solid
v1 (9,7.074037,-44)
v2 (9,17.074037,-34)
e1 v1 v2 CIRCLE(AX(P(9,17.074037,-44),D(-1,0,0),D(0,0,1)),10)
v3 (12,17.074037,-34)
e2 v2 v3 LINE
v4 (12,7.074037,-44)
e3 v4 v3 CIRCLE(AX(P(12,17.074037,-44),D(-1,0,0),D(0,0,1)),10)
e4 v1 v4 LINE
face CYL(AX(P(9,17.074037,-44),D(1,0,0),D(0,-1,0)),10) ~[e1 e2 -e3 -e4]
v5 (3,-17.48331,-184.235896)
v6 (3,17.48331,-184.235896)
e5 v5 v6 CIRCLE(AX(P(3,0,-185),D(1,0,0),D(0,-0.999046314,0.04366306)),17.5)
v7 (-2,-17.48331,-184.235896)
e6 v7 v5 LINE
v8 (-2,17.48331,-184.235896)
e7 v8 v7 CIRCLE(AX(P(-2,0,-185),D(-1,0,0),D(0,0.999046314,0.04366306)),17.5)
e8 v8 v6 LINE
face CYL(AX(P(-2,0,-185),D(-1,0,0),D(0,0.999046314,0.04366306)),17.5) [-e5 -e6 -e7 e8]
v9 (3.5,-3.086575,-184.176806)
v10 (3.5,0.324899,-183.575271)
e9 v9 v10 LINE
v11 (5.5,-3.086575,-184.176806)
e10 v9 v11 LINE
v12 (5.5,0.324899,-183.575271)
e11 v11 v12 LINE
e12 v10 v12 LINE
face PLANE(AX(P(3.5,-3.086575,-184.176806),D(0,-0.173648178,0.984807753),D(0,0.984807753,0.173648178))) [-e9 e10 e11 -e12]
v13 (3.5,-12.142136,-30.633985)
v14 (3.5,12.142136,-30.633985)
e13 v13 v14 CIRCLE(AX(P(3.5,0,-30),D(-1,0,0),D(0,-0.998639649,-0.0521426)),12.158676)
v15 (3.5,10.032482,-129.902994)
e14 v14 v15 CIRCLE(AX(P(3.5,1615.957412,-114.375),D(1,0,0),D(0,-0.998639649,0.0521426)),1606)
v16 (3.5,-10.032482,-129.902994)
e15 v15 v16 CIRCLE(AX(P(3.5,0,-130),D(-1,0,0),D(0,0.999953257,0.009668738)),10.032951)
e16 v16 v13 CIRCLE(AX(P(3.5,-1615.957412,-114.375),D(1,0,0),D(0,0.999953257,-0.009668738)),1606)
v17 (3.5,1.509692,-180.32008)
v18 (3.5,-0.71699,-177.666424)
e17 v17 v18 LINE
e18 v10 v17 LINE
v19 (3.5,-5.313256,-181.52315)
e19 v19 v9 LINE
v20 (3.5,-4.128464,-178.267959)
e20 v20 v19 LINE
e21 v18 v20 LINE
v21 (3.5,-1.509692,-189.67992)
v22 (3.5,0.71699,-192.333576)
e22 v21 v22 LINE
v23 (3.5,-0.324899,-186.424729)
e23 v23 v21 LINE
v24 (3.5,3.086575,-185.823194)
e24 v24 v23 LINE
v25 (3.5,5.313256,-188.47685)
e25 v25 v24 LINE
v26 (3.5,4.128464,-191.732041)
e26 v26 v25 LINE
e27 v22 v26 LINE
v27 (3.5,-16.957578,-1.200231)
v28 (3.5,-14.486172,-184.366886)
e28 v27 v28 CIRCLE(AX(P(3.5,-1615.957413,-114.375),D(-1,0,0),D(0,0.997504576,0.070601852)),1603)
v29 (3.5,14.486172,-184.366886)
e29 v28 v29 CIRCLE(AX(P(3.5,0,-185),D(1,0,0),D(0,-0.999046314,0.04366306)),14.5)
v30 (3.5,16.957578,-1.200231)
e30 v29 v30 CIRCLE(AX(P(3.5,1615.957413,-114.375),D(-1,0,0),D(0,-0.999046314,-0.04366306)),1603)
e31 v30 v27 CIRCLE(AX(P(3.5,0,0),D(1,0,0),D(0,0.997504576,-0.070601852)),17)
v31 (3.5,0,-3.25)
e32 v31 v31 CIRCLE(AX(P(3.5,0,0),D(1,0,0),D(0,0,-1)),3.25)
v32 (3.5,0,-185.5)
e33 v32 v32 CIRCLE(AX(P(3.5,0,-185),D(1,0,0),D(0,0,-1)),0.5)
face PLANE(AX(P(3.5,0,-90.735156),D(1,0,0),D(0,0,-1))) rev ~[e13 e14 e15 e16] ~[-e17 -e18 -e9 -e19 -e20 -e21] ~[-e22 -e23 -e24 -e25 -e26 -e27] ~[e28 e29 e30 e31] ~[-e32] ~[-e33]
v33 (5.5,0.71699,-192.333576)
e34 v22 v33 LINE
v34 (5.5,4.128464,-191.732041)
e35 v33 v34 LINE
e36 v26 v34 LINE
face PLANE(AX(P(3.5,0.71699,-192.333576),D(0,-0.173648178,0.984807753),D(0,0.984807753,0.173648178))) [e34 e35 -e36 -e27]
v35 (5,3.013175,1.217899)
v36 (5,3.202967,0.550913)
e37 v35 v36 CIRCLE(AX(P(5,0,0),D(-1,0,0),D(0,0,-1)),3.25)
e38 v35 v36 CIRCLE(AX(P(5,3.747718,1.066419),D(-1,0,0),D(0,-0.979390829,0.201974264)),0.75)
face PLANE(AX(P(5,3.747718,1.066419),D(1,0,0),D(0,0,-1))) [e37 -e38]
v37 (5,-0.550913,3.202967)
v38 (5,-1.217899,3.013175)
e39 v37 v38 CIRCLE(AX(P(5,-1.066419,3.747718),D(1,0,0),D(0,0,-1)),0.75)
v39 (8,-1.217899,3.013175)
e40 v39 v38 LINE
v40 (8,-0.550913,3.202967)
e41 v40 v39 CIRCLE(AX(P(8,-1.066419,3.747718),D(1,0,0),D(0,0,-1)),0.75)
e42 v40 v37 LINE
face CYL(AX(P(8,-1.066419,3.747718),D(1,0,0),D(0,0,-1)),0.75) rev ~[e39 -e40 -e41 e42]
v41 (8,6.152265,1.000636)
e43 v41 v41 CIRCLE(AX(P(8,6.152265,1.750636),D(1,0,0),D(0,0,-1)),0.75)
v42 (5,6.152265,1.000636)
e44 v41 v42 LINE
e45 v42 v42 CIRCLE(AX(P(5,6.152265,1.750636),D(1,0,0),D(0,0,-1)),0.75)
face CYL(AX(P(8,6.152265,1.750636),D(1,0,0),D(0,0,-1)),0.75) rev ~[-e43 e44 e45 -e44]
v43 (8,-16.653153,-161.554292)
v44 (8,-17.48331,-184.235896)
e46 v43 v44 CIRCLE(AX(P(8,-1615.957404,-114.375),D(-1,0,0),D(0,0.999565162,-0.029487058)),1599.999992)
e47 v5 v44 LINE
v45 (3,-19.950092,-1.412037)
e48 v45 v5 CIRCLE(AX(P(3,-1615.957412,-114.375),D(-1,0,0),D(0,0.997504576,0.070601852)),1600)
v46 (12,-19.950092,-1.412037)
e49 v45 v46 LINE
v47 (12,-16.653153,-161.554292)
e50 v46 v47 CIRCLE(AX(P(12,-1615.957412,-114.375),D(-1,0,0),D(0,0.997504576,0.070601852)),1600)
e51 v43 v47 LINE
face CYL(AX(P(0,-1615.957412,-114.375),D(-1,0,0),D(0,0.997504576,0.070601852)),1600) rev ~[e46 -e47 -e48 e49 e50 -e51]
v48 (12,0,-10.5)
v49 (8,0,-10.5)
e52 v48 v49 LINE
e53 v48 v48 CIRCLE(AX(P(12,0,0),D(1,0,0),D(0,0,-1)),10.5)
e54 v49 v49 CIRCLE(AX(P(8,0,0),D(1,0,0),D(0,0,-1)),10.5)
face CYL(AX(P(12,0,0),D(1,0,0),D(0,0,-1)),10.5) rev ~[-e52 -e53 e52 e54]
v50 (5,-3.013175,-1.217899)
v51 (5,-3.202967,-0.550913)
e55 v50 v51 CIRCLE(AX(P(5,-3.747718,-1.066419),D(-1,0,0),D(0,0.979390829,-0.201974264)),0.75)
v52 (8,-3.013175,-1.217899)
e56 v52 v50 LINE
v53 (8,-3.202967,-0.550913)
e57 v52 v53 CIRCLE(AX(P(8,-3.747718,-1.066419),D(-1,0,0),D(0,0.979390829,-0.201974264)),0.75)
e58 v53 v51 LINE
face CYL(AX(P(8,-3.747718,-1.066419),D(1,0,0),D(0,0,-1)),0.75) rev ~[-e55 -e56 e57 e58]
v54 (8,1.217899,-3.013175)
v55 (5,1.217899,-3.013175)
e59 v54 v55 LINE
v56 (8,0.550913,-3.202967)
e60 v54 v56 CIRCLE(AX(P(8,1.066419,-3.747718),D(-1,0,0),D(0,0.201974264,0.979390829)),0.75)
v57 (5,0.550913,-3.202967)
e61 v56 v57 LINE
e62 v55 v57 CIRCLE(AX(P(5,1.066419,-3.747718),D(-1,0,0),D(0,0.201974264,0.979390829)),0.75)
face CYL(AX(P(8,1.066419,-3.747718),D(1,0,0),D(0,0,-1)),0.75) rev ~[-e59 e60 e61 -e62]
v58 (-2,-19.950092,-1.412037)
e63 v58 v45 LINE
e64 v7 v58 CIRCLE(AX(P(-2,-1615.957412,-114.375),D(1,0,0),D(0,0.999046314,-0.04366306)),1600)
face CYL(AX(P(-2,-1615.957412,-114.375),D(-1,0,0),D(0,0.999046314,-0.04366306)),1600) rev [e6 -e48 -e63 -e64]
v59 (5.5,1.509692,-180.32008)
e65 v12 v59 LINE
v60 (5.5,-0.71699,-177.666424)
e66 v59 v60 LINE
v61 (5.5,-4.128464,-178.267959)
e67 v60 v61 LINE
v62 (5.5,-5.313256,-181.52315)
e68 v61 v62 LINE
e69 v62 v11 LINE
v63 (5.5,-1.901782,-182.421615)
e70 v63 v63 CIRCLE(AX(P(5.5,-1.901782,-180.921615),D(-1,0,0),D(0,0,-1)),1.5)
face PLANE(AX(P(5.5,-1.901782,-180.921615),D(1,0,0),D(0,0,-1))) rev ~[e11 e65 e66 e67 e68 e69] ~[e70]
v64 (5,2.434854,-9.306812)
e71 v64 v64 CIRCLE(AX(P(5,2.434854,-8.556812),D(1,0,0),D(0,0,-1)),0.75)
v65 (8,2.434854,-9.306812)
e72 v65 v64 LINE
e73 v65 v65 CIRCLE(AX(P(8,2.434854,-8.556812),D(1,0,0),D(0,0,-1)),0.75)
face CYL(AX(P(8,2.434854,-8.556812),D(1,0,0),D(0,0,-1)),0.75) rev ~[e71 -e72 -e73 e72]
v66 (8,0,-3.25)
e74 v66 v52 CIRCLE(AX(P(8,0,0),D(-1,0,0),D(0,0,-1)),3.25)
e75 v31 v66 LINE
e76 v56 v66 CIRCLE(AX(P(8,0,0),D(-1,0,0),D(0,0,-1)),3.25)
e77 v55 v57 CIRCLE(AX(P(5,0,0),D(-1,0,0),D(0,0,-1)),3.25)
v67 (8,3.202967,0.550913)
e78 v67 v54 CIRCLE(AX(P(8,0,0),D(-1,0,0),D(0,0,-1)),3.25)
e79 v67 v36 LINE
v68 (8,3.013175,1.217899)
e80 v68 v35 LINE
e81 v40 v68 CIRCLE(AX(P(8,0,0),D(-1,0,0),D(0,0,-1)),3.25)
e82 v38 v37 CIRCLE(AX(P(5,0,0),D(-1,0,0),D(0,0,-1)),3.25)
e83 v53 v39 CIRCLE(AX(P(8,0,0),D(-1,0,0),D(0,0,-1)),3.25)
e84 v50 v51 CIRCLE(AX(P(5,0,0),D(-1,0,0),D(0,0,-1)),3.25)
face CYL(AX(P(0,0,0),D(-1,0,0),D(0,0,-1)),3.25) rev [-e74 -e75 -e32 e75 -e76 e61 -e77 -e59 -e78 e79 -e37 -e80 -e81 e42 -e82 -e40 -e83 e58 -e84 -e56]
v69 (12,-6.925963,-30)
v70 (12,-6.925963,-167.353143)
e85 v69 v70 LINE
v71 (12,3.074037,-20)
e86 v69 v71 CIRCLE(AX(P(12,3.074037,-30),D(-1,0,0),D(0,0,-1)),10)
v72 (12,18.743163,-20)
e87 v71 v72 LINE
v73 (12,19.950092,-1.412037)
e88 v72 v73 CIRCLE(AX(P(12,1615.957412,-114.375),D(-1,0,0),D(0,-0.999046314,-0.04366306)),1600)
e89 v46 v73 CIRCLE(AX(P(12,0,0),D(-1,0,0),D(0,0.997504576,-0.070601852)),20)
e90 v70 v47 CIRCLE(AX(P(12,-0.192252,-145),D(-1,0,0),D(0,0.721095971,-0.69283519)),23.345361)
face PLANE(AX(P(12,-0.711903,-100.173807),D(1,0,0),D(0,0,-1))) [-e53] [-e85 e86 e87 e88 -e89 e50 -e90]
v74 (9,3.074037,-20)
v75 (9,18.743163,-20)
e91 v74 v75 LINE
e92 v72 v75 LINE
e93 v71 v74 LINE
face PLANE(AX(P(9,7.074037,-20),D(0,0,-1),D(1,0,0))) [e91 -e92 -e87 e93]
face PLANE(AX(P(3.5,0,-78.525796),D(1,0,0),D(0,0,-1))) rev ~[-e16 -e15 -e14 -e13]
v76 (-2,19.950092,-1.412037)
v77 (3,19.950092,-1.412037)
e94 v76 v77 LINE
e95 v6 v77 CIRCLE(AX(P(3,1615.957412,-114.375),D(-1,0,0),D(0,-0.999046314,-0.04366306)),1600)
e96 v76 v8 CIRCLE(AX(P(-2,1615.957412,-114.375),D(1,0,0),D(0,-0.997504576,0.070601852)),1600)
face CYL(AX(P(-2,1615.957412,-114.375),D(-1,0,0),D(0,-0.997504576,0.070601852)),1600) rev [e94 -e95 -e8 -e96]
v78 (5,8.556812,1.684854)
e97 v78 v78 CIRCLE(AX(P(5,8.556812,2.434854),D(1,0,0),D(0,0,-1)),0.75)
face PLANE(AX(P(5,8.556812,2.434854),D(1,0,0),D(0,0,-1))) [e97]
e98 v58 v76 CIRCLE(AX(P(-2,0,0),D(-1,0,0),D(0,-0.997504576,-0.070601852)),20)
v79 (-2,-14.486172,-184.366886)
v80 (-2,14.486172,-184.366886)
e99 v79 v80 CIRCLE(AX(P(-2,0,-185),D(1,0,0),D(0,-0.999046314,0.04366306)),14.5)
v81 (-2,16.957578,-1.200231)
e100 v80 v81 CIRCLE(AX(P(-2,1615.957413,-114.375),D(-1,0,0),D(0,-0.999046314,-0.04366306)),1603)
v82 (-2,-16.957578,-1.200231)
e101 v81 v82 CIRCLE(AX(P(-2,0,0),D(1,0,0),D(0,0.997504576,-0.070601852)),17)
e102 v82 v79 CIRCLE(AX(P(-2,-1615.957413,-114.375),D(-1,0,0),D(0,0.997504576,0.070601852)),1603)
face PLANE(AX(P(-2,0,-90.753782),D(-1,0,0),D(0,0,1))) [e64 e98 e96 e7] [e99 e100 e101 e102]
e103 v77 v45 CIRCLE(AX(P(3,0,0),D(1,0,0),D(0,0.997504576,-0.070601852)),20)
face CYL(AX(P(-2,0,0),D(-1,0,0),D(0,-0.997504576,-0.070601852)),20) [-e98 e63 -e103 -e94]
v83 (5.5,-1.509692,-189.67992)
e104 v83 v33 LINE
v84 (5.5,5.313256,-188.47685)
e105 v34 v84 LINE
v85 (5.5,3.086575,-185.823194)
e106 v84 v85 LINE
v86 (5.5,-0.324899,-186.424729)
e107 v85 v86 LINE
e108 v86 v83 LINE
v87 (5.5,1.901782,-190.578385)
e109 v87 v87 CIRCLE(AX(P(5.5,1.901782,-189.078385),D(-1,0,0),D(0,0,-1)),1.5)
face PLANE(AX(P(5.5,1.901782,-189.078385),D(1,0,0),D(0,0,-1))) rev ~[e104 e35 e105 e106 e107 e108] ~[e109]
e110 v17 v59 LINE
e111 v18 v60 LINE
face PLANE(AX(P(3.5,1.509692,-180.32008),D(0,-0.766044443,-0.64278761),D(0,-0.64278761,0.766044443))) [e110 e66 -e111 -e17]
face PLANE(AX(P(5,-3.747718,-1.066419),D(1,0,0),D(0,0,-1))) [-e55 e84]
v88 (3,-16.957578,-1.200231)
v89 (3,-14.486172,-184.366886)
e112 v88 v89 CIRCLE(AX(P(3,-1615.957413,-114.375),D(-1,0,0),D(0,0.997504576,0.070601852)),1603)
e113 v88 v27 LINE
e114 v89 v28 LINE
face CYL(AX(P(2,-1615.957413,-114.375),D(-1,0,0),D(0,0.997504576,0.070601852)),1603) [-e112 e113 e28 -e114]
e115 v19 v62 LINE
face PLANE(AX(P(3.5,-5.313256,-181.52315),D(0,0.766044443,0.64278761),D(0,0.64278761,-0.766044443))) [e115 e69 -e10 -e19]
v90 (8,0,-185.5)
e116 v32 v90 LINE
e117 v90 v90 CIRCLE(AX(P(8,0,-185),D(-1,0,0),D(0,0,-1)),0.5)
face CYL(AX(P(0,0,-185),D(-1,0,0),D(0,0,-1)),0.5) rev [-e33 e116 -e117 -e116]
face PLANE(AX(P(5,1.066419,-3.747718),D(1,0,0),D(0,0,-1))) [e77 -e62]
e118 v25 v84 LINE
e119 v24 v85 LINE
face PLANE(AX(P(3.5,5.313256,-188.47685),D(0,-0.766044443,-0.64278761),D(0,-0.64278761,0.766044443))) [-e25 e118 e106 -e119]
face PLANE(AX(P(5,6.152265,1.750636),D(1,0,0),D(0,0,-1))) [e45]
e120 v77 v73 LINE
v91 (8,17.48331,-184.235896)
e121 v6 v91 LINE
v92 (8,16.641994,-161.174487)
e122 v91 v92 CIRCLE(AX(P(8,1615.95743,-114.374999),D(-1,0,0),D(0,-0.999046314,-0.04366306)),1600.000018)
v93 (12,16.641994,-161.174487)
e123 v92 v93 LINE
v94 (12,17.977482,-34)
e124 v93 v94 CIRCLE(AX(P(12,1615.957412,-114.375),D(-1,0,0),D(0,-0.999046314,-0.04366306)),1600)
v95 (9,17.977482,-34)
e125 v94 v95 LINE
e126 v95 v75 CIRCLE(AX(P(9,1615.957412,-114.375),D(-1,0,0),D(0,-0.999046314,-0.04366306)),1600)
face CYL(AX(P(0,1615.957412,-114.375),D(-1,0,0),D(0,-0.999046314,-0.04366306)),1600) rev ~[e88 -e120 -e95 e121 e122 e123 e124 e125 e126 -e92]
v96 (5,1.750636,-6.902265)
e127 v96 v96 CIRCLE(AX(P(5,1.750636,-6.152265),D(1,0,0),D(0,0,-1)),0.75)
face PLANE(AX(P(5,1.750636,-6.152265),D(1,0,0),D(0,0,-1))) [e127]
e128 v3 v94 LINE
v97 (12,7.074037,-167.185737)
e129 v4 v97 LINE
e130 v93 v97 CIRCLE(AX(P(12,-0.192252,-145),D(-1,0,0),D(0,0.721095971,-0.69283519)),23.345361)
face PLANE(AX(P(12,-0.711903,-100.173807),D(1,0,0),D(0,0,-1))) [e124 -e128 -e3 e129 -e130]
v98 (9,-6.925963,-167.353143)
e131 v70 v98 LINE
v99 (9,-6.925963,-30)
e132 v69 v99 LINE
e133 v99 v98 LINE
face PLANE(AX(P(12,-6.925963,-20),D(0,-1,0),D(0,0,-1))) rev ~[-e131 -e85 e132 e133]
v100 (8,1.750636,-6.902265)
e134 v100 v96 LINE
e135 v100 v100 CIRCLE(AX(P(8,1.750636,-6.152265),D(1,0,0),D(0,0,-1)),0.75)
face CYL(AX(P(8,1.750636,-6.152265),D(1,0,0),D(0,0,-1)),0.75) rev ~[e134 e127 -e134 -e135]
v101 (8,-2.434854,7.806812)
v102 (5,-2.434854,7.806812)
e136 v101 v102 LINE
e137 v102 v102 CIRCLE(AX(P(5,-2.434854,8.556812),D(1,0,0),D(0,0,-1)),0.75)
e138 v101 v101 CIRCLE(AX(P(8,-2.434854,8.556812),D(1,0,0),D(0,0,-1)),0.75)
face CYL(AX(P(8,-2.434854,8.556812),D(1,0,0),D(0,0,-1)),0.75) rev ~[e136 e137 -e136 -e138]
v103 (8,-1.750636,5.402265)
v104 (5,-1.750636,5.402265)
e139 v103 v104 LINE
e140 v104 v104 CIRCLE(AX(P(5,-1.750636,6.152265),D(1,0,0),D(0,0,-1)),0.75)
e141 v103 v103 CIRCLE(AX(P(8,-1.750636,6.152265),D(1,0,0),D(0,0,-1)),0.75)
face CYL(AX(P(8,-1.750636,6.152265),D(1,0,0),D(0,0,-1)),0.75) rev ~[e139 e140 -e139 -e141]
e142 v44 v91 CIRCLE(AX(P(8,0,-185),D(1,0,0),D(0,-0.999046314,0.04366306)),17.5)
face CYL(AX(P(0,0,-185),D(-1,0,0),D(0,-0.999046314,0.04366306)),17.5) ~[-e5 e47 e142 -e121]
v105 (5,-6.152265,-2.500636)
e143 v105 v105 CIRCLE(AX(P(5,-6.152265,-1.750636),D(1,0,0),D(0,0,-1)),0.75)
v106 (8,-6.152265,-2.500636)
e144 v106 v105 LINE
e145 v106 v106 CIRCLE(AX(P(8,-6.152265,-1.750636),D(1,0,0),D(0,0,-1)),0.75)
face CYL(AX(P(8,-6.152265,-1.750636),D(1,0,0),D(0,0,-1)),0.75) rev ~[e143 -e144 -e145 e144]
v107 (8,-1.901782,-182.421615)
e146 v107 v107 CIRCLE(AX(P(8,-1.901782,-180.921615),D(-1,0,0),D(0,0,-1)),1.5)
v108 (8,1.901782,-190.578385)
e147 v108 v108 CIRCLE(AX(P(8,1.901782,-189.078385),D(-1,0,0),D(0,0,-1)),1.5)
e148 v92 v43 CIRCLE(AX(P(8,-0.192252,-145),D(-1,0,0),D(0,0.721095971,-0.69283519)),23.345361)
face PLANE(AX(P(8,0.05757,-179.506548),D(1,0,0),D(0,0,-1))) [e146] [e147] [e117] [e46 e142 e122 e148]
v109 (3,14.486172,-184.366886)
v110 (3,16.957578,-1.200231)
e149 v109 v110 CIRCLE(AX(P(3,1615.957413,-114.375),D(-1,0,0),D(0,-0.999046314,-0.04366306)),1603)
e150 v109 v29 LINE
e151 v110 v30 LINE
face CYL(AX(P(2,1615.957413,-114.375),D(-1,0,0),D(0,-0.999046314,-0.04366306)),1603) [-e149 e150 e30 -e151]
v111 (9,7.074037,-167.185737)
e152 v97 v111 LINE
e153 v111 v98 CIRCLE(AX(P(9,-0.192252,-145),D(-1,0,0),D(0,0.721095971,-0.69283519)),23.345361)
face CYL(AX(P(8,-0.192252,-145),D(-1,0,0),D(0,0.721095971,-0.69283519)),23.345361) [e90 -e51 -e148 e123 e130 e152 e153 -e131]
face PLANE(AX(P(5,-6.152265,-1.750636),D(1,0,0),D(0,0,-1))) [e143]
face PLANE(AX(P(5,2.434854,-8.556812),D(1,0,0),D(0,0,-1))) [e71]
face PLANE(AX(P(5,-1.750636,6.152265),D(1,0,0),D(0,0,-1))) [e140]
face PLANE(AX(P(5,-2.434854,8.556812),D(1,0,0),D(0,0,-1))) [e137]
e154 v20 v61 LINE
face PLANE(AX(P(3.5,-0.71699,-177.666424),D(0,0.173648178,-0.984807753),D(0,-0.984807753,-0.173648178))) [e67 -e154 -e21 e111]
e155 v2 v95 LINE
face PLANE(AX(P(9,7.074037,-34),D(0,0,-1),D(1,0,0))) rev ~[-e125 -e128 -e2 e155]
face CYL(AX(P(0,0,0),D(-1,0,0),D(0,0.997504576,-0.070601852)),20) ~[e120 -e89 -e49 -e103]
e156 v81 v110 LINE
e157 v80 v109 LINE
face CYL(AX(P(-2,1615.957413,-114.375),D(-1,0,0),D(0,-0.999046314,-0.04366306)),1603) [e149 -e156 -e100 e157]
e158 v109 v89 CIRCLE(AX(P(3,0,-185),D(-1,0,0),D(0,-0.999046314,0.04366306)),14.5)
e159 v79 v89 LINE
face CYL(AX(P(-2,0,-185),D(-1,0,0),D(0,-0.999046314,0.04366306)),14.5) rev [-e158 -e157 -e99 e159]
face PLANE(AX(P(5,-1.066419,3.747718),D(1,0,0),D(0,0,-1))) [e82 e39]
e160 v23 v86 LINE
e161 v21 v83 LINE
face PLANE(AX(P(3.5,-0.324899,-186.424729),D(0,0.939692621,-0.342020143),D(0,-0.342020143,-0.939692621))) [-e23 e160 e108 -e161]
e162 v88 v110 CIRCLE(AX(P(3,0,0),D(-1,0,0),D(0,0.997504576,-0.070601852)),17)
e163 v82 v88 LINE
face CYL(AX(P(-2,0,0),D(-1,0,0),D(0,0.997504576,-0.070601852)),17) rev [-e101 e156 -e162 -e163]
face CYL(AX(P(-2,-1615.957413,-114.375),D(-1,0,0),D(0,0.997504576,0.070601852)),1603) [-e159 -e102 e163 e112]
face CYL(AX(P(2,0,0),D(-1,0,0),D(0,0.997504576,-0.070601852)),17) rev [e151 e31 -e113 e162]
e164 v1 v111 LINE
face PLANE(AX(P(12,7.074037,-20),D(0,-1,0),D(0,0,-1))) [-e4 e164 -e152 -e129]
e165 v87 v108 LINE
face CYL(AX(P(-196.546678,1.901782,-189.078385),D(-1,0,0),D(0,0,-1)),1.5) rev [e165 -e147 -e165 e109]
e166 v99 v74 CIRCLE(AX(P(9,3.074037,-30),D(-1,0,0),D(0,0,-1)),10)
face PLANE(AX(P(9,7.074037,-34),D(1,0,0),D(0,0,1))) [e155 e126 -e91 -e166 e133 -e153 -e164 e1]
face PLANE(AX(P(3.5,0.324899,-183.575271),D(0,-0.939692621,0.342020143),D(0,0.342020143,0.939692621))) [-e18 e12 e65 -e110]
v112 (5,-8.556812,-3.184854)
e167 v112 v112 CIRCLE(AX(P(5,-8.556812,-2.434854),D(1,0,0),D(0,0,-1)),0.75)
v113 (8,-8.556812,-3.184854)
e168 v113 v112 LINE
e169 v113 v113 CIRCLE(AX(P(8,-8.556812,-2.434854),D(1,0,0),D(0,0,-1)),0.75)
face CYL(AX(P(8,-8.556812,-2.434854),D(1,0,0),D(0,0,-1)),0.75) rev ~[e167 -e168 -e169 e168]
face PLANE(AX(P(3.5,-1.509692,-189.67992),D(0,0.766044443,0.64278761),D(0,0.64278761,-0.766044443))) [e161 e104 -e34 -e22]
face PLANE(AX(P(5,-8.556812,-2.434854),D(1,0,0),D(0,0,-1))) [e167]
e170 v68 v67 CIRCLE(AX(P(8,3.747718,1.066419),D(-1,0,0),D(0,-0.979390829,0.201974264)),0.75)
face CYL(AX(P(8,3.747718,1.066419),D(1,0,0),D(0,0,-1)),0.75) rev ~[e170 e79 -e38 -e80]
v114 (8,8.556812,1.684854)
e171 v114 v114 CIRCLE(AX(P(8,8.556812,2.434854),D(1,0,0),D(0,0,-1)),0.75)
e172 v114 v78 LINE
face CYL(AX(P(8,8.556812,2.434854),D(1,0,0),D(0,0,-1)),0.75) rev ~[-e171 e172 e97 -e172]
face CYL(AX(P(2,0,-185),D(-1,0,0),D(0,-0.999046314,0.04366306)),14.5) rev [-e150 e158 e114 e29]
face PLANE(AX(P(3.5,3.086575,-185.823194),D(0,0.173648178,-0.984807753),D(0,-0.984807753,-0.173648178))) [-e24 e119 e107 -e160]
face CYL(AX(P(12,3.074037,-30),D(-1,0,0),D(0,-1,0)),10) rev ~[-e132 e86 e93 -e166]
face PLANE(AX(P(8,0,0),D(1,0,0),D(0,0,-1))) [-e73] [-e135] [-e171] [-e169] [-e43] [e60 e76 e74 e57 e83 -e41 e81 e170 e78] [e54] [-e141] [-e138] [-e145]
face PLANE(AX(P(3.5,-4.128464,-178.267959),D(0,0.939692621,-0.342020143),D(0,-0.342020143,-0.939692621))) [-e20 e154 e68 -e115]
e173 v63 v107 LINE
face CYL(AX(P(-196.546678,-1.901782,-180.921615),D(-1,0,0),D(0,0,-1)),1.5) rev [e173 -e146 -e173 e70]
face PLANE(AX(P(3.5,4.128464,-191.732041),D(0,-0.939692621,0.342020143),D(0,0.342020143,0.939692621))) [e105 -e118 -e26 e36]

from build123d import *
from build123d.topology import SkipClean

# Parameters (mm, degrees)
SKETCH1_R                = 3.25
SKETCH1_R_2              = 0.5
BOSS_EXTRUDE1_DEPTH      = 18
CUT_EXTRUDE3_START       = -16
SKETCH3_2_R              = 3.25
SKETCH3_2_R_2            = 0.5
CUT_EXTRUDE3_DEPTH       = 1.5
CUT_EXTRUDE15_DEPTH      = 3
SKETCH35_W               = 246.318532416
SKETCH35_H               = 61.223681468
CUT_EXTRUDE23_DEPTH      = 6
CUT_EXTRUDE25_START      = -4
CUT_EXTRUDE25_DEPTH      = 4
SKETCH41_R               = 10.5
CUT_EXTRUDE26_DEPTH      = 4
SKETCH44_R               = 0.75
CUT_EXTRUDE30_DEPTH      = 3
SKETCH45_W               = 160
SKETCH45_H               = 14
CUT_EXTRUDE31_DEPTH      = 3
SKETCH46_W               = 3
SKETCH46_H               = 14
CUT_EXTRUDE32_DEPTH      = 205.653984701
FILLET10_R               = 10
CUT_EXTRUDE33_START      = -4.5
SKETCH47_R               = 1.5
CUT_EXTRUDE33_DEPTH      = 2
CUT_EXTRUDE34_DEPTH      = 204.546677693
CUT_EXTRUDE34_DEPTH_BACK = 204.546677693
SKETCH47_3_R             = 1.5
BOSS_EXTRUDE3_START      = 5
BOSS_EXTRUDE3_DEPTH      = 5
CUT_EXTRUDE36_DEPTH      = 0.5


with BuildPart() as part:
    # Sketch1 → Boss-Extrude1 (new body)
    with BuildSketch(Plane(origin=(0, 0, 0), x_dir=(0, 0, -1), z_dir=(1, 0, 0))):
        with BuildLine():
            ThreePointArc((1.412037037, 19.950091514), (-20, 0), (1.412037037, -19.950091514))
            ThreePointArc((1.412037037, -19.950091514), (92.788701413, -16.103034328), (184.235896445, -17.483310492))
            ThreePointArc((184.235896445, -17.483310492), (202.5, 0), (184.235896445, 17.483310492))
            ThreePointArc((184.235896445, 17.483310492), (92.788701413, 16.103034328), (1.412037037, 19.950091514))
        make_face()
        Circle(SKETCH1_R, mode=Mode.SUBTRACT)
        with Locations((185, 0)):
            Circle(SKETCH1_R_2, mode=Mode.SUBTRACT)
    extrude(amount=BOSS_EXTRUDE1_DEPTH)

    # Sketch3<2> → Cut-Extrude3 (cut)
    with BuildSketch(Plane(origin=(18, 0, 0), x_dir=(0, 0, -1), z_dir=(1, 0, 0)).offset(CUT_EXTRUDE3_START)):
        with BuildLine():
            ThreePointArc((1.200231481, -16.957577787), (92.748227103, -13.103307369), (184.366885626, -14.48617155))
            ThreePointArc((184.366885626, -14.48617155), (199.5, 0), (184.366885626, 14.48617155))
            ThreePointArc((184.366885626, 14.48617155), (92.748227103, 13.103307369), (1.200231481, 16.957577787))
            ThreePointArc((1.200231481, 16.957577787), (-17, 0), (1.200231481, -16.957577787))
        make_face()
        Circle(SKETCH3_2_R, mode=Mode.SUBTRACT)
        with BuildLine():
            ThreePointArc((30.633984963, -12.142135717), (17.841324221, 0), (30.633984963, 12.142135717))
            ThreePointArc((30.633984963, 12.142135717), (80.252181851, 10.319958738), (129.902994017, 10.032482423))
            ThreePointArc((129.902994017, 10.032482423), (140.032951397, 0), (129.902994017, -10.032482423))
            ThreePointArc((129.902994017, -10.032482423), (80.252181851, -10.319958738), (30.633984963, -12.142135717))
        make_face(mode=Mode.SUBTRACT)
        with Locations((185, 0)):
            Circle(SKETCH3_2_R_2, mode=Mode.SUBTRACT)
    extrude(amount=CUT_EXTRUDE3_DEPTH, mode=Mode.SUBTRACT)

    # Sketch23 → Cut-Extrude15 (cut)
    with BuildSketch(Plane.ZY):
        with BuildLine():
            ThreePointArc((-184.235896445, 17.483310492), (-92.788701413, 16.103034328), (-1.412037037, 19.950091514))
            ThreePointArc((-1.412037037, 19.950091514), (20, 0), (-1.412037037, -19.950091514))
            ThreePointArc((-1.412037037, -19.950091514), (-92.788701413, -16.103034328), (-184.235896445, -17.483310492))
            ThreePointArc((-184.235896445, -17.483310492), (-202.5, 0), (-184.235896445, 17.483310492))
        make_face()
    extrude(amount=-CUT_EXTRUDE15_DEPTH, mode=Mode.SUBTRACT)

    # Sketch35 → Cut-Extrude23 (cut)
    with BuildSketch(Plane(origin=(18, 0, 0), x_dir=(0, 0, -1), z_dir=(1, 0, 0))):
        with Locations((100.173806546, -0.711903273)):
            Rectangle(SKETCH35_W, SKETCH35_H)
    extrude(amount=-CUT_EXTRUDE23_DEPTH, mode=Mode.SUBTRACT)

    # Sketch40 → Cut-Extrude25 (cut)
    with BuildSketch(Plane(origin=(12, 0, 0), x_dir=(0, 0, -1), z_dir=(1, 0, 0)).offset(CUT_EXTRUDE25_START)):
        with BuildLine():
            ThreePointArc((161.17448747, 16.641994074), (168.343842012, 0.074036527), (161.5542921, -16.65315313))
            ThreePointArc((161.5542921, -16.65315313), (172.896566315, -17.028012583), (184.235896445, -17.483310492))
            ThreePointArc((184.235896445, -17.483310492), (202.5, 0), (184.235896445, 17.483310492))
            ThreePointArc((184.235896445, 17.483310492), (172.706708762, 17.021074995), (161.17448747, 16.641994074))
        make_face()
    extrude(amount=CUT_EXTRUDE25_DEPTH, mode=Mode.SUBTRACT)

    # Sketch41 → Cut-Extrude26 (cut)
    with BuildSketch(Plane(origin=(12, 0, 0), x_dir=(0, 0, -1), z_dir=(1, 0, 0))):
        Circle(SKETCH41_R)
    extrude(amount=-CUT_EXTRUDE26_DEPTH, mode=Mode.SUBTRACT)

    # Sketch44 → Cut-Extrude30 (cut)
    with BuildSketch(Plane(origin=(8, 0, 0), x_dir=(0, 0, -1), z_dir=(1, 0, 0))):
        with Locations((-2.434853527, 8.556811816)):
            Circle(SKETCH44_R)
        with Locations((-1.750636089, 6.15226477)):
            Circle(SKETCH44_R)
        with Locations((-1.066418651, 3.747717723)):
            Circle(SKETCH44_R)
        with Locations((3.747717723, 1.066418651)):
            Circle(SKETCH44_R)
        with Locations((6.15226477, 1.750636089)):
            Circle(SKETCH44_R)
        with Locations((8.556811816, 2.434853527)):
            Circle(SKETCH44_R)
        with Locations((1.066418651, -3.747717723)):
            Circle(SKETCH44_R)
        with Locations((1.750636089, -6.15226477)):
            Circle(SKETCH44_R)
        with Locations((2.434853527, -8.556811816)):
            Circle(SKETCH44_R)
        with Locations((-3.747717723, -1.066418651)):
            Circle(SKETCH44_R)
        with Locations((-6.15226477, -1.750636089)):
            Circle(SKETCH44_R)
        with Locations((-8.556811816, -2.434853527)):
            Circle(SKETCH44_R)
    extrude(amount=-CUT_EXTRUDE30_DEPTH, mode=Mode.SUBTRACT)

    # Sketch45 → Cut-Extrude31 (cut)
    with BuildSketch(Plane(origin=(12, 0, 0), x_dir=(0, 0, -1), z_dir=(1, 0, 0))):
        with Locations((100, 0.074036527)):
            Rectangle(SKETCH45_W, SKETCH45_H)
    extrude(amount=-CUT_EXTRUDE31_DEPTH, mode=Mode.SUBTRACT)

    # Sketch46 → Cut-Extrude32 (cut, through all)
    with BuildSketch(Plane.XZ.offset(-7.074036527)):
        with Locations((10.5, -27)):
            Rectangle(SKETCH46_W, SKETCH46_H)
    extrude(amount=-CUT_EXTRUDE32_DEPTH, mode=Mode.SUBTRACT)

    # Fillet10
    fillet10_edges = [part.edges().sort_by_distance(p)[0] for p in [
        (10.5, -6.925963473, -20),
        (10.5, 7.074036527, -34),
    ]]
    fillet(fillet10_edges, radius=FILLET10_R)

    # Sketch47 → Cut-Extrude33 (cut)
    # profile 1 of 4: a face of its own
    with BuildSketch(Plane(origin=(8, 0, 0), x_dir=(0, 0, -1), z_dir=(1, 0, 0)).offset(CUT_EXTRUDE33_START)):
        Polygon((181.523149891, -5.313256306), (184.176805684, -3.086574709), (183.575270751, 0.324899419), (180.320080026, 1.50969195), (177.666424233, -0.716989647), (178.267959166, -4.128463775), align=None)
        with Locations((180.921614958, -1.901782178)):
            Circle(SKETCH47_R, mode=Mode.SUBTRACT)
    # profile 2 of 4: a face of its own
    with BuildSketch(Plane(origin=(8, 0, 0), x_dir=(0, 0, -1), z_dir=(1, 0, 0)).offset(CUT_EXTRUDE33_START)):
        with Locations((180.921614958, -1.901782178)):
            Circle(SKETCH47_R)
    # profile 3 of 4: a face of its own
    with BuildSketch(Plane(origin=(8, 0, 0), x_dir=(0, 0, -1), z_dir=(1, 0, 0)).offset(CUT_EXTRUDE33_START)):
        Polygon((188.476850109, 5.313256306), (185.823194316, 3.086574709), (186.424729249, -0.324899419), (189.679919974, -1.50969195), (192.333575767, 0.716989647), (191.732040834, 4.128463775), align=None)
        with Locations((189.078385042, 1.901782178)):
            Circle(SKETCH47_R, mode=Mode.SUBTRACT)
    # profile 4 of 4: a face of its own
    with BuildSketch(Plane(origin=(8, 0, 0), x_dir=(0, 0, -1), z_dir=(1, 0, 0)).offset(CUT_EXTRUDE33_START)):
        with Locations((189.078385042, 1.901782178)):
            Circle(SKETCH47_R)
    extrude(amount=CUT_EXTRUDE33_DEPTH, mode=Mode.SUBTRACT)

    # Sketch47<3> → Cut-Extrude34 (cut, two sides: drawn at the far end of the back side and taken through both)
    with BuildSketch(Plane(origin=(8, 0, 0), x_dir=(0, 0, -1), z_dir=(1, 0, 0)).offset(-CUT_EXTRUDE34_DEPTH_BACK)):
        with Locations((180.921614958, -1.901782178)):
            Circle(SKETCH47_3_R)
        with Locations((189.078385042, 1.901782178)):
            Circle(SKETCH47_3_R)
    extrude(amount=CUT_EXTRUDE34_DEPTH + CUT_EXTRUDE34_DEPTH_BACK, mode=Mode.SUBTRACT)

    # Sketch50 → Boss-Extrude3 (add)
    with SkipClean():  # the faces are left unmerged after this step: merging them gives an invalid solid
        with BuildSketch(Plane.ZY.offset(-3).offset(BOSS_EXTRUDE3_START)):
            with BuildLine():
                ThreePointArc((-184.235896445, 17.483310492), (-202.5, 0), (-184.235896445, -17.483310492))
                ThreePointArc((-184.235896445, -17.483310492), (-92.788701413, -16.103034328), (-1.412037037, -19.950091514))
                ThreePointArc((-1.412037037, -19.950091514), (20, 0), (-1.412037037, 19.950091514))
                ThreePointArc((-1.412037037, 19.950091514), (-92.788701413, 16.103034328), (-184.235896445, 17.483310492))
            make_face()
            with BuildLine():
                ThreePointArc((-184.366885626, 14.48617155), (-92.748227103, 13.103307369), (-1.200231481, 16.957577787))
                ThreePointArc((-1.200231481, 16.957577787), (17, 0), (-1.200231481, -16.957577787))
                ThreePointArc((-1.200231481, -16.957577787), (-92.748227103, -13.103307369), (-184.366885626, -14.48617155))
                ThreePointArc((-184.366885626, -14.48617155), (-199.5, 0), (-184.366885626, 14.48617155))
            make_face(mode=Mode.SUBTRACT)
        extrude(amount=-BOSS_EXTRUDE3_DEPTH)

    # Sketch51 → Cut-Extrude36 (cut)
    with SkipClean():  # the faces are left unmerged after this step: merging them gives an invalid solid
        with BuildSketch(Plane.ZY.offset(-3)):
            with BuildLine():
                ThreePointArc((-30.633984963, -12.142135717), (-80.252181851, -10.319958738), (-129.902994017, -10.032482423))
                ThreePointArc((-129.902994017, -10.032482423), (-140.032951397, 0), (-129.902994017, 10.032482423))
                ThreePointArc((-129.902994017, 10.032482423), (-80.252181851, 10.319958738), (-30.633984963, 12.142135717))
                ThreePointArc((-30.633984963, 12.142135717), (-17.841324221, 0), (-30.633984963, -12.142135717))
            make_face()
        extrude(amount=-CUT_EXTRUDE36_DEPTH, mode=Mode.SUBTRACT)


solid = part.part
